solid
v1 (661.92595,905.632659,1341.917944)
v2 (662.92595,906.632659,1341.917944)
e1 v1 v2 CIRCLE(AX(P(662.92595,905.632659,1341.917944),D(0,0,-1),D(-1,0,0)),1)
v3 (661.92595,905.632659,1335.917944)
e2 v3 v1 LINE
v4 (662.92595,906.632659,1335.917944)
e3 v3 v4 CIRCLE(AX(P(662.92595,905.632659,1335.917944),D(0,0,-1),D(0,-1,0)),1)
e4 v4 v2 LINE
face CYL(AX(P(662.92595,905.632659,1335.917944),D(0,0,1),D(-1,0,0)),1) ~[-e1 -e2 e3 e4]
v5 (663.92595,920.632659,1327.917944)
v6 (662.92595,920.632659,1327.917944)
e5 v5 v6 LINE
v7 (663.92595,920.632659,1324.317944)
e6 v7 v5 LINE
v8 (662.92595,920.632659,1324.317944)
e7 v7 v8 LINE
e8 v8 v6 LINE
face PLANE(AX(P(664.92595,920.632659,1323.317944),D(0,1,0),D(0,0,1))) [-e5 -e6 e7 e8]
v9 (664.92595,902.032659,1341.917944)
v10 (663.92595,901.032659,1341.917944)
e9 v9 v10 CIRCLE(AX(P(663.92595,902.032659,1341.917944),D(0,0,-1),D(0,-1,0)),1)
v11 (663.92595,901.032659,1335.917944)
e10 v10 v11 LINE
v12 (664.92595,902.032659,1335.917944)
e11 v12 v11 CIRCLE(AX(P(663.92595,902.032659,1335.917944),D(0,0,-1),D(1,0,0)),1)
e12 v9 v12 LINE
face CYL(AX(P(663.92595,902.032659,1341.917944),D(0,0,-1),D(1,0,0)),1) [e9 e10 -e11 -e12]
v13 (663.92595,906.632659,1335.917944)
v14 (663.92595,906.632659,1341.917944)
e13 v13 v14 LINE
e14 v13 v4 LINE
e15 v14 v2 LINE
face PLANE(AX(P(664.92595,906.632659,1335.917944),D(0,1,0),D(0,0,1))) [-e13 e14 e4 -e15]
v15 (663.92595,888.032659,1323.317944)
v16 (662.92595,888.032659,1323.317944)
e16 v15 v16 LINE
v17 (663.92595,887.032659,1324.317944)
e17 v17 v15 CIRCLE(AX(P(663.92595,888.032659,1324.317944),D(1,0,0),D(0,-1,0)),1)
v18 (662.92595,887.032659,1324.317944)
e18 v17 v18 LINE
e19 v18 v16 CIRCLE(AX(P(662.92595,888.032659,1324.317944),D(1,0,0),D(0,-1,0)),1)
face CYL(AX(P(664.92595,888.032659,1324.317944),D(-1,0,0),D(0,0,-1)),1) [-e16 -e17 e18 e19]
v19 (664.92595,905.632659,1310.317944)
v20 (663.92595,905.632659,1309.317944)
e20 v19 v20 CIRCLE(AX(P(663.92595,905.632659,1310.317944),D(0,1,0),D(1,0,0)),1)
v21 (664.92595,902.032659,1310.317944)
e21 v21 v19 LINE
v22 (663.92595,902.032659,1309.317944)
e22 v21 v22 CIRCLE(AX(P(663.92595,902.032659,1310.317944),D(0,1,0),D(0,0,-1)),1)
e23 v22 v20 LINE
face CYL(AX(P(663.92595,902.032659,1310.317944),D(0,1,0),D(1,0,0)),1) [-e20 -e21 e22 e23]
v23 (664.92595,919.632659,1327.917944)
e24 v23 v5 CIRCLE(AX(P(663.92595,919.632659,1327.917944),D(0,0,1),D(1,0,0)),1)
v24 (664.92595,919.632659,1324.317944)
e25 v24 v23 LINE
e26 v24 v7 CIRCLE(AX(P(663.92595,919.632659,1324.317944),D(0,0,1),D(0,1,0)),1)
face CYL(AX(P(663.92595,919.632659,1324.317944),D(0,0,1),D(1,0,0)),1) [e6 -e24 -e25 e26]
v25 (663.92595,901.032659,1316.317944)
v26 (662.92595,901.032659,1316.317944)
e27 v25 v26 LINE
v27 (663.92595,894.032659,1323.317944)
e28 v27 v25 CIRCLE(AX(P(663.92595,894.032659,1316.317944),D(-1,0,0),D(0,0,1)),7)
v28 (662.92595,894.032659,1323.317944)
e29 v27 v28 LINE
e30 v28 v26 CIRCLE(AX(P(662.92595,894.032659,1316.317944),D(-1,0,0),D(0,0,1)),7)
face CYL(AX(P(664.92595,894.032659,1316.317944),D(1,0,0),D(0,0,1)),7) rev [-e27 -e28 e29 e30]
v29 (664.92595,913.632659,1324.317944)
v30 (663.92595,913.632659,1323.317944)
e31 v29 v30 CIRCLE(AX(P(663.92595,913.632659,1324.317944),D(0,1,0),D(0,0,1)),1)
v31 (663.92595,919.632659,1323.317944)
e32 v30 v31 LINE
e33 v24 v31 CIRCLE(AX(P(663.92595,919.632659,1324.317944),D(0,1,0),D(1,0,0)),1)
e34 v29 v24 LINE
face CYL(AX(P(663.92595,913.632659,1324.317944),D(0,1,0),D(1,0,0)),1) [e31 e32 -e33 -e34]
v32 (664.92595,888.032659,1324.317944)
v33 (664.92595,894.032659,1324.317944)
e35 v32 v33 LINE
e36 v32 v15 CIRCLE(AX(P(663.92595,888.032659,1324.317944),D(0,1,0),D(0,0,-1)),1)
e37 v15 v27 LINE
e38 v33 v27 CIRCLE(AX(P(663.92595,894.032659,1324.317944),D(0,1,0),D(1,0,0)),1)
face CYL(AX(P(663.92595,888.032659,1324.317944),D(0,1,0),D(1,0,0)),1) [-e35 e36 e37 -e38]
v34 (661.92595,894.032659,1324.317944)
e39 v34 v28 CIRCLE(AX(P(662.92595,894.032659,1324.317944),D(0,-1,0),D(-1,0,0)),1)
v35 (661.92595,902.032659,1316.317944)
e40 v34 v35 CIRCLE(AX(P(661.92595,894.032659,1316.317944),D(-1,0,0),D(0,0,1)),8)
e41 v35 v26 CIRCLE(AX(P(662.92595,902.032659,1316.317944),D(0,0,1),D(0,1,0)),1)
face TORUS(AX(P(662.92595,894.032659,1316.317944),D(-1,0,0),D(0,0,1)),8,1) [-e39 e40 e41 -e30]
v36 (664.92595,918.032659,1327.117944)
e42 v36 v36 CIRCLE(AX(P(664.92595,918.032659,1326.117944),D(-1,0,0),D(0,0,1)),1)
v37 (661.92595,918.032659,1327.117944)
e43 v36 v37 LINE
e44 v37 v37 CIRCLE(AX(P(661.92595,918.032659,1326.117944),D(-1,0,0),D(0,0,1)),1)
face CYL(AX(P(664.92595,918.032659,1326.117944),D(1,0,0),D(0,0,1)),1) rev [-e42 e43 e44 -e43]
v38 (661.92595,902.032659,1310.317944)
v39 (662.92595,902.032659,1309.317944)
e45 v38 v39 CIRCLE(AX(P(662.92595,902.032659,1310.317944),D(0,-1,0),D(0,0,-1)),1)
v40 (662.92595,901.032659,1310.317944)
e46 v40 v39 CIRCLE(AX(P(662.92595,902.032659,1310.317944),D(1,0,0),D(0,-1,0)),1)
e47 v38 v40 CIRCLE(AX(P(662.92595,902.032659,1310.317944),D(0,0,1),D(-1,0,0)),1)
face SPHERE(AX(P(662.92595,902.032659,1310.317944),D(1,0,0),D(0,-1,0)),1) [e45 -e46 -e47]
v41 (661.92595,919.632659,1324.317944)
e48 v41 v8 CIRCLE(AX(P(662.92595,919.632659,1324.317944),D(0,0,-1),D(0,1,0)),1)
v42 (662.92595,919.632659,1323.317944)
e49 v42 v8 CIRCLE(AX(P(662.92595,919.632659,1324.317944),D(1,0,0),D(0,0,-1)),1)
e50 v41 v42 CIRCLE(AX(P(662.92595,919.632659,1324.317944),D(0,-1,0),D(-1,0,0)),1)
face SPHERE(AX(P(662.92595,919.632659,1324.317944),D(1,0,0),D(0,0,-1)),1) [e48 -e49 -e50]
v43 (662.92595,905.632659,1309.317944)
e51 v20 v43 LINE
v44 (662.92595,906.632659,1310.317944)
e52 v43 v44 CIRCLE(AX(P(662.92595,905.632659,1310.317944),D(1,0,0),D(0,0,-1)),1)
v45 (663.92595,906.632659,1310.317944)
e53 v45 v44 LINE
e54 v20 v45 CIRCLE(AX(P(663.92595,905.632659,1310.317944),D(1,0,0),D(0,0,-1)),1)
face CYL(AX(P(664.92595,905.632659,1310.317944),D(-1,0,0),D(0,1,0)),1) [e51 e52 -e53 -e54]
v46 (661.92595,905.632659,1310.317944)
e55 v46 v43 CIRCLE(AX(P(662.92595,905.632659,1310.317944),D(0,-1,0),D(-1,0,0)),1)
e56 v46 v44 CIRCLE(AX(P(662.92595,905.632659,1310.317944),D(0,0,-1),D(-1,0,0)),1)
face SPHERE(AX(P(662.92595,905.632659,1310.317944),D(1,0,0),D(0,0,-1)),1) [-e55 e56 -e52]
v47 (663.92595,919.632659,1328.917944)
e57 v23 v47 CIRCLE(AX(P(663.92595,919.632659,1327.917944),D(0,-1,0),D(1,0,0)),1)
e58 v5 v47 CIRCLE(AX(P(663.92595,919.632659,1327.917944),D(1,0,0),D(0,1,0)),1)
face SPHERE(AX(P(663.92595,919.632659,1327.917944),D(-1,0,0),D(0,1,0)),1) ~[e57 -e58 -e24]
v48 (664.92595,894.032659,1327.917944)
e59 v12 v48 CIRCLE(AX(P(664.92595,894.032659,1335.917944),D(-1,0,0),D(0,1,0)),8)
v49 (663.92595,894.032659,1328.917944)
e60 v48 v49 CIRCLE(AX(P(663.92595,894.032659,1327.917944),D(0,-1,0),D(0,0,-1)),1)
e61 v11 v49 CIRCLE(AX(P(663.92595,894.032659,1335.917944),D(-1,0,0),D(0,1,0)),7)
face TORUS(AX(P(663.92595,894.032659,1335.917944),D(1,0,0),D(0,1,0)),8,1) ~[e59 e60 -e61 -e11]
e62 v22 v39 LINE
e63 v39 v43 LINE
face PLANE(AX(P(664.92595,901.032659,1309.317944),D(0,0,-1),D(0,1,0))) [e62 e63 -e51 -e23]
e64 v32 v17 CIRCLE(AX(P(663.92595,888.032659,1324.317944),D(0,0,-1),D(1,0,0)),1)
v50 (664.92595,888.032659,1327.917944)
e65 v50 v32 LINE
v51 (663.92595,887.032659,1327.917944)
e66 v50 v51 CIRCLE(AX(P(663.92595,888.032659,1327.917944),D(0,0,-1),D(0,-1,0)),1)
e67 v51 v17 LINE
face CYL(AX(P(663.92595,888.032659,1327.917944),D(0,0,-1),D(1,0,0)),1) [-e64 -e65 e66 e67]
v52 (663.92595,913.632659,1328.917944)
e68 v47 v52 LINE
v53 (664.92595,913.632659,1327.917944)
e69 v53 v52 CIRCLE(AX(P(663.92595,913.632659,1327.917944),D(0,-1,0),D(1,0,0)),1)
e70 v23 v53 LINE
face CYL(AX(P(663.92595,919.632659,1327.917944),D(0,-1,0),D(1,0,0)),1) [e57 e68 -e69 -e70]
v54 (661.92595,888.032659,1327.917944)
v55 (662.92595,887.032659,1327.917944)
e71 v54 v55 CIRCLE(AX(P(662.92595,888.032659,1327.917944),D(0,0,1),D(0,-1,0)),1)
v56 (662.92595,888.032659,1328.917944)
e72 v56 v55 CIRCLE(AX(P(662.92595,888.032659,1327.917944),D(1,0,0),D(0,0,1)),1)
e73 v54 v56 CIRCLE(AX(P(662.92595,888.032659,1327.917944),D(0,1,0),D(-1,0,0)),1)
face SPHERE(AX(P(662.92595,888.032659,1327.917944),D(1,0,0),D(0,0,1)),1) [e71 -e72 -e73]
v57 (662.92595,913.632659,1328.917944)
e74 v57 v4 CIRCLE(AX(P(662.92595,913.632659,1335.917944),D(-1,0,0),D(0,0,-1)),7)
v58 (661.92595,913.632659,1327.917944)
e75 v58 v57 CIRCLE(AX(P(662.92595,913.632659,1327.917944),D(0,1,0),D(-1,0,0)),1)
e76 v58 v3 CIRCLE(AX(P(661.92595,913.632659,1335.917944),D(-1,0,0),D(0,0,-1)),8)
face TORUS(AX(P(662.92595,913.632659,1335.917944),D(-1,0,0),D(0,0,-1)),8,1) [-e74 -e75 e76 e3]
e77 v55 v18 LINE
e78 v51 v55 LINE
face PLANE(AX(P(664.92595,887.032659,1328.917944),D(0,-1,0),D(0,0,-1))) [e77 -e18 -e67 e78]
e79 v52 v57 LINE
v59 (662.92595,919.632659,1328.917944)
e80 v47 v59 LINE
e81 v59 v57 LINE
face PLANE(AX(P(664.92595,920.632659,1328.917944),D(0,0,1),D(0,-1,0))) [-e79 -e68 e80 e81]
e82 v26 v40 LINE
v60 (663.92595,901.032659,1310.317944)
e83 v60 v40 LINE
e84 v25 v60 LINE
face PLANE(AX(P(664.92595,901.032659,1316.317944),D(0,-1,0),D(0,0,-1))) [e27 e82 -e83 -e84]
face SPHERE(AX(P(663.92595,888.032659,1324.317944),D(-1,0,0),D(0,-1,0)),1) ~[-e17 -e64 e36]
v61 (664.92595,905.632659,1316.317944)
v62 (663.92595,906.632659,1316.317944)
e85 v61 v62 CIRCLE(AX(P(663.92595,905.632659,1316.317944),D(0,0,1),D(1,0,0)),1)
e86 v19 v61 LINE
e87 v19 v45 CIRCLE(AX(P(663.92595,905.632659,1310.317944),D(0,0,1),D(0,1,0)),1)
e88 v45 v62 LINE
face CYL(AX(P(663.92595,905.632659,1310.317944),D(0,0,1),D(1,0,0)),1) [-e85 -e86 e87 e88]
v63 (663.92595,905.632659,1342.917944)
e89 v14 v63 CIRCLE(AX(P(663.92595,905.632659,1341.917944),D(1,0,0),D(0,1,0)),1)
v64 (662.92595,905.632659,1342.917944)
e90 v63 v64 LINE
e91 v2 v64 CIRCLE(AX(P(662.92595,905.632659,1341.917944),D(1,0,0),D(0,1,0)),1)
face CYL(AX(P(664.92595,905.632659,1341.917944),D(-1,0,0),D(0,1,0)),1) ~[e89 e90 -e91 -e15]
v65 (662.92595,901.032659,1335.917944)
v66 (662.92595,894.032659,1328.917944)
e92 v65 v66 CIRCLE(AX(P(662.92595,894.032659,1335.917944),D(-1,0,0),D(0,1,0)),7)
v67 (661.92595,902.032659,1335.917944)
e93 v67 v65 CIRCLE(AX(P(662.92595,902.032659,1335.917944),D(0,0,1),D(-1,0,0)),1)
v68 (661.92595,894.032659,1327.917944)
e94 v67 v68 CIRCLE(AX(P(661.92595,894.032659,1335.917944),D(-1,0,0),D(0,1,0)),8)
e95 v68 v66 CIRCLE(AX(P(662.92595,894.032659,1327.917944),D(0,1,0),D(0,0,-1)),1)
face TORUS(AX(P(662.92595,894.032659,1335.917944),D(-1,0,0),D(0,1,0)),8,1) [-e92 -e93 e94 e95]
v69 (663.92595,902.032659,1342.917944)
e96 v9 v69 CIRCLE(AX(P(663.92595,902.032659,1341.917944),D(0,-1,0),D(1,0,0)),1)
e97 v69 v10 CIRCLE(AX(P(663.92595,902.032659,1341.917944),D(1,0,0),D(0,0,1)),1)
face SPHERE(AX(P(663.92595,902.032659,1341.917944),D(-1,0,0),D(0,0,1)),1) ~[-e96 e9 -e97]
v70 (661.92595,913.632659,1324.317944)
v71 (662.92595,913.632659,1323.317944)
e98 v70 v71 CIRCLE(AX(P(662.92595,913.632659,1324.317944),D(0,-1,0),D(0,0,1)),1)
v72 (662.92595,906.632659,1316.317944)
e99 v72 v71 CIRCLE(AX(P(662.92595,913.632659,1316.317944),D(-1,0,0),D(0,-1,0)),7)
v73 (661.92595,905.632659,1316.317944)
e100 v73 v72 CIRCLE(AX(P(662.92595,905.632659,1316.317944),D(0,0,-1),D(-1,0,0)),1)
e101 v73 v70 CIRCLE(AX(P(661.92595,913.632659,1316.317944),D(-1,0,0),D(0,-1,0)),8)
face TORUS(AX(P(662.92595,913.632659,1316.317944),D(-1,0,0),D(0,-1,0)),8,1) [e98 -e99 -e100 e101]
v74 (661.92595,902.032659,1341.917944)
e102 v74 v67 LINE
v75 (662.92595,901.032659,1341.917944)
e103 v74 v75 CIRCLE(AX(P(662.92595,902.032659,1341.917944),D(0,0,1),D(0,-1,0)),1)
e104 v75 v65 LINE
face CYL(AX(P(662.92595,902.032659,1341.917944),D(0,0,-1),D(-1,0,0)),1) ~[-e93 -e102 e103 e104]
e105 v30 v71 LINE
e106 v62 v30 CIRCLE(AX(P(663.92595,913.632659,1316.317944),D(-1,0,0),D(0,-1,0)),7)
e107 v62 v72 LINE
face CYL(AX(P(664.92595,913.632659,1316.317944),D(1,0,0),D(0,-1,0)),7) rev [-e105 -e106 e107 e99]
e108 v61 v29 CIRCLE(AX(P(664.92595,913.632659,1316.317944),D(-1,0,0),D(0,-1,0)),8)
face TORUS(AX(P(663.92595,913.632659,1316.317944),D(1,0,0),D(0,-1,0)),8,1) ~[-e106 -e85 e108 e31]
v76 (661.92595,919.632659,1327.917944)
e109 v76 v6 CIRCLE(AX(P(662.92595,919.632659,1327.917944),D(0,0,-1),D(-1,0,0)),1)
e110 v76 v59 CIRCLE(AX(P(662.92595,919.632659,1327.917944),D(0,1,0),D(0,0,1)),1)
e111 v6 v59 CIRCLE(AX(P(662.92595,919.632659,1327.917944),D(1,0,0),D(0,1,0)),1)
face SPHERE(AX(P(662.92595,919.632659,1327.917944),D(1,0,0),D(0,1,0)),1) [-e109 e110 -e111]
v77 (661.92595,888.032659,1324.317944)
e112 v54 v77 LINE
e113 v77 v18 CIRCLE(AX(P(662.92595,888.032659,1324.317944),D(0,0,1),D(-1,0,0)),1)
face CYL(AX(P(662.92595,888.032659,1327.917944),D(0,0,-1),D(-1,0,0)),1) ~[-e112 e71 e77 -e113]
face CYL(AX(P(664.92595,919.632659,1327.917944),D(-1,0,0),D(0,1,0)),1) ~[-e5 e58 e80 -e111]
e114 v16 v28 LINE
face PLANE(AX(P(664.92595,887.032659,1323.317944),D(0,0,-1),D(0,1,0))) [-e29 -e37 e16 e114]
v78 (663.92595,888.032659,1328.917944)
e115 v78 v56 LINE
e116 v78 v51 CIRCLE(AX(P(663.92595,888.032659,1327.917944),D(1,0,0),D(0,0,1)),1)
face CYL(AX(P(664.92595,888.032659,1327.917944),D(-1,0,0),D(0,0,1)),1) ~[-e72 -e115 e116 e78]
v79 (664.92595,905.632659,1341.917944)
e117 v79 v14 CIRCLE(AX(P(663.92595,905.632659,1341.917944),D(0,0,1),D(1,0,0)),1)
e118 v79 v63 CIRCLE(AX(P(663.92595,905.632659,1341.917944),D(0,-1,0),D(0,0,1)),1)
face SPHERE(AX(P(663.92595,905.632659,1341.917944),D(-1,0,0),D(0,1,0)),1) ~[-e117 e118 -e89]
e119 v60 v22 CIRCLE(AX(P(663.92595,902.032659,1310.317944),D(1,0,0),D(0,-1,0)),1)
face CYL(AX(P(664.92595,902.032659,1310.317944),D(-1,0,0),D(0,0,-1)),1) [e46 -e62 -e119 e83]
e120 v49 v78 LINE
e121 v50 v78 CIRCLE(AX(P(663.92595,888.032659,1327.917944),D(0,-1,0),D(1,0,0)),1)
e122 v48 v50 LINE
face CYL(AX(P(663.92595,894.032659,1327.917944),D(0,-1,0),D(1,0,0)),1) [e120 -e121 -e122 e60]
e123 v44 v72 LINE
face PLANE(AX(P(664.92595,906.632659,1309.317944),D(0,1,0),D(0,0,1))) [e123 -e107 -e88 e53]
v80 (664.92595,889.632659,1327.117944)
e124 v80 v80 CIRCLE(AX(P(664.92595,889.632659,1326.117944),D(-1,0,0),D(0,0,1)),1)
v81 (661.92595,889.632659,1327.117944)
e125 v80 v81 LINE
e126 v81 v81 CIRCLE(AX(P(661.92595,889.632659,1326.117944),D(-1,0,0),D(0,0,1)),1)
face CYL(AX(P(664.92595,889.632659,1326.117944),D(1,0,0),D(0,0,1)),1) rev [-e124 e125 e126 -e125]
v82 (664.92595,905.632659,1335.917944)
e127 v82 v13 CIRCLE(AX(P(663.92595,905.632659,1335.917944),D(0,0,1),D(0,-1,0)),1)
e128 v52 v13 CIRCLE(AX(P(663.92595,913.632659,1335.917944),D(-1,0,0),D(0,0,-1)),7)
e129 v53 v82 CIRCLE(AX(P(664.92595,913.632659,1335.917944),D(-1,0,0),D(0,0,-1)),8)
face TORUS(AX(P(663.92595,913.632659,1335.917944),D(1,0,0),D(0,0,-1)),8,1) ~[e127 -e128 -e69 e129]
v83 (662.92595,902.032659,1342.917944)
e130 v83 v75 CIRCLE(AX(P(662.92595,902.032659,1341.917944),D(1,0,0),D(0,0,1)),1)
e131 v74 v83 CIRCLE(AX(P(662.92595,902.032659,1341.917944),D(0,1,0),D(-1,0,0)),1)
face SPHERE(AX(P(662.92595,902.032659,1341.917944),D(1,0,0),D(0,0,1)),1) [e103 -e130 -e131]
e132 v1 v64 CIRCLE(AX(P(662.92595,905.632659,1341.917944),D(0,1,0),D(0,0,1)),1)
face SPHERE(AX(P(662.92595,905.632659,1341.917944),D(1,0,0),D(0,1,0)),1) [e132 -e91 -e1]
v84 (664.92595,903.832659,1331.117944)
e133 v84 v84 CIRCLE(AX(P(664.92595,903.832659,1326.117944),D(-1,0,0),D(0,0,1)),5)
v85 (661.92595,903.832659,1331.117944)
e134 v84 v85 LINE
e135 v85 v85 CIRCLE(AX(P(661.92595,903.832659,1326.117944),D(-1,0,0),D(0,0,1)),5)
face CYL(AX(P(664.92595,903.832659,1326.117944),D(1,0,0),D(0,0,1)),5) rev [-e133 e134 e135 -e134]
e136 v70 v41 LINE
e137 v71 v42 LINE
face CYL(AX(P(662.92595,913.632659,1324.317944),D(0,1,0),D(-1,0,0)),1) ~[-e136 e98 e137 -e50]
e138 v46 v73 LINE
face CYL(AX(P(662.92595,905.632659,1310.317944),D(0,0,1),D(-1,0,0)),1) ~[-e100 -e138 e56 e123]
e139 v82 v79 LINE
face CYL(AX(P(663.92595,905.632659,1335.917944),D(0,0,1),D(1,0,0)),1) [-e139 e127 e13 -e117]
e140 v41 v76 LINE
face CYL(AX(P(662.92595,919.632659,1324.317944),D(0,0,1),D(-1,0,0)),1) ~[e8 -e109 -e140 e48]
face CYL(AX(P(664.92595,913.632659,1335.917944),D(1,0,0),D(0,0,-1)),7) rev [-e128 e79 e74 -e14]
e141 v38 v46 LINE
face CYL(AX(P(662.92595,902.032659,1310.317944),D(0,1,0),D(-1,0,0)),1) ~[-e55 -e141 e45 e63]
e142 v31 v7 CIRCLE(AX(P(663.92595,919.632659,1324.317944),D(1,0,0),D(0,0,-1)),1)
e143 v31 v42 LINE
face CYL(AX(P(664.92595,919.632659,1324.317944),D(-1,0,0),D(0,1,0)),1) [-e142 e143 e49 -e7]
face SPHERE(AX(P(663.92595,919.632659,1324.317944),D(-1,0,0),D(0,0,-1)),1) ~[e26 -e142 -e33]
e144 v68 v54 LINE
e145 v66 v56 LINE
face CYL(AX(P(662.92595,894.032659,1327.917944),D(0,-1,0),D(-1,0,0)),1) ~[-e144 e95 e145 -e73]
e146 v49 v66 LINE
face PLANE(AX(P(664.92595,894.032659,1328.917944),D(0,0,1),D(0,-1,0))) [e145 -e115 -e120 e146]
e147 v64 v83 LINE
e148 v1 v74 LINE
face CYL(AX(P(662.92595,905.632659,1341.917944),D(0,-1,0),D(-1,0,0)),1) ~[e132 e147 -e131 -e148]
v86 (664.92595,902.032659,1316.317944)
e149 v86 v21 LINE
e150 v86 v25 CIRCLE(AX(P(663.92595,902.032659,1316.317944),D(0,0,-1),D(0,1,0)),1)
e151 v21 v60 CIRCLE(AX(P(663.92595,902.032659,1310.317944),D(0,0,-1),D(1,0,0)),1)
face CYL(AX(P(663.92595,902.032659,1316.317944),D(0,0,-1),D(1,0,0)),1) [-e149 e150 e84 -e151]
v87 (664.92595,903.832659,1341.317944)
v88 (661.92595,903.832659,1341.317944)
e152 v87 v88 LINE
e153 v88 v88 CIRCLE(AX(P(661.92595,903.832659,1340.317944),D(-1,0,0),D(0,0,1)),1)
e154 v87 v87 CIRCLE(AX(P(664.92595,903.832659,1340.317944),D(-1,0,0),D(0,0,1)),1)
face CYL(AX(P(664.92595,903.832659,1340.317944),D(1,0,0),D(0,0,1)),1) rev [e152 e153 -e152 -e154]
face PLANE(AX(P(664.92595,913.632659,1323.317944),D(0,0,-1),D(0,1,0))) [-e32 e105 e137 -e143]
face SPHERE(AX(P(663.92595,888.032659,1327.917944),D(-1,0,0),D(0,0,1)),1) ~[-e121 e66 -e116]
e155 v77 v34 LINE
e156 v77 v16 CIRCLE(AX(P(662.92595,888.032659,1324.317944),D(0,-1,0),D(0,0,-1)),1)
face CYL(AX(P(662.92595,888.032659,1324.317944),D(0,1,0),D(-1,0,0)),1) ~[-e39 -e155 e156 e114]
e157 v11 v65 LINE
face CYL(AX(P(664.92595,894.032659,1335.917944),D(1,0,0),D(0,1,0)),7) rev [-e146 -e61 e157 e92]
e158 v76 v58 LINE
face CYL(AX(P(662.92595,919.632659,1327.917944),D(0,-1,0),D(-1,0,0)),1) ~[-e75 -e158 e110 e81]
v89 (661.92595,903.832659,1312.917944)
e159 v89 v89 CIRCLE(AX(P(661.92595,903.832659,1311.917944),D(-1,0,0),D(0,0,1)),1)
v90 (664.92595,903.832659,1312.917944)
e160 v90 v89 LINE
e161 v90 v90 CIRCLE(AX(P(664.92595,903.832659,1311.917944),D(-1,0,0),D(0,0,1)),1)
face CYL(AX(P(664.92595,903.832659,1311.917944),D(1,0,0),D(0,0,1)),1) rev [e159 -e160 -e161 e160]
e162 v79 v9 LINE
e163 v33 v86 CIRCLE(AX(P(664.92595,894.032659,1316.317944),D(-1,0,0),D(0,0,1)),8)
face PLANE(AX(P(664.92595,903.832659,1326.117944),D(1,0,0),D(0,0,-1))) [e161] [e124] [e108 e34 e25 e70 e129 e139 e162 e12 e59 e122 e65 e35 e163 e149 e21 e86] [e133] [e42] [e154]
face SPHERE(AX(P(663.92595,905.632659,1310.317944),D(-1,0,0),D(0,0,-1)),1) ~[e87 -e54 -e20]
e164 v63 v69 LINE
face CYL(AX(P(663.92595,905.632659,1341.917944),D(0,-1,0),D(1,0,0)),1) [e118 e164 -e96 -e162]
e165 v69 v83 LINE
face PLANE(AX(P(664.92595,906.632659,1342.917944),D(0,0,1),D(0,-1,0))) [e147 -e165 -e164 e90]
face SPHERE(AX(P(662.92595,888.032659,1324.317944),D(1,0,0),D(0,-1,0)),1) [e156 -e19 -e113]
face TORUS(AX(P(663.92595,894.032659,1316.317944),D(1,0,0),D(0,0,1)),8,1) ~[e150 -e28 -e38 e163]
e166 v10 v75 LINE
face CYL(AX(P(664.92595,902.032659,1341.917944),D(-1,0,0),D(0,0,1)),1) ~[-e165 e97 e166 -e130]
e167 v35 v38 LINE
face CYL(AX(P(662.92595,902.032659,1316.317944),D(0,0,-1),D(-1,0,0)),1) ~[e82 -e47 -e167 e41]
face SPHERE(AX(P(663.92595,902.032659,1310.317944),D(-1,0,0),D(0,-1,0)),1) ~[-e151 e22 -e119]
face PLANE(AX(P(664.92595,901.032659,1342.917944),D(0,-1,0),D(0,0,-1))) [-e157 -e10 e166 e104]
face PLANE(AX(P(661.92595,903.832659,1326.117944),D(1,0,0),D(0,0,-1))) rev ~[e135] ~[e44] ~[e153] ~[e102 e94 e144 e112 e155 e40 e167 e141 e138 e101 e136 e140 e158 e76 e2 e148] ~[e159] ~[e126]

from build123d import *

# Parameters (mm, degrees)
SKETCH1_R           = 1
SKETCH1_R_2         = 5
BOSS_EXTRUDE1_DEPTH = 3
FILLET1_R           = 1
FILLET3_R           = 1


with BuildPart() as part:
    # Sketch1 → Boss-Extrude1 (new body)
    with BuildSketch(Plane.ZY.offset(-664.925949728)):
        with BuildLine():
            Line((1323.317943891, 920.63265885), (1328.917943891, 920.63265885))
            Line((1328.917943891, 920.63265885), (1328.917943891, 913.632658853))
            ThreePointArc((1328.917943891, 913.632658853), (1330.968196422, 908.682911384), (1335.917943891, 906.632658853))
            Line((1335.917943891, 906.632658853), (1342.917943891, 906.632658853))
            Line((1342.917943891, 906.632658853), (1342.917943891, 901.03265885))
            Line((1342.917943891, 901.03265885), (1335.917943891, 901.03265885))
            ThreePointArc((1335.917943891, 901.03265885), (1330.968196422, 898.982406318), (1328.917943891, 894.03265885))
            Line((1328.917943891, 894.03265885), (1328.917943891, 887.03265885))
            Line((1328.917943891, 887.03265885), (1323.317943893, 887.03265885))
            Line((1323.317943893, 887.03265885), (1323.317943893, 894.03265885))
            ThreePointArc((1323.317943893, 894.03265885), (1321.267691361, 898.982406318), (1316.317943893, 901.03265885))
            Line((1316.317943893, 901.03265885), (1309.317943891, 901.03265885))
            Line((1309.317943891, 901.03265885), (1309.317943891, 906.632658853))
            Line((1309.317943891, 906.632658853), (1316.317943891, 906.632658853))
            ThreePointArc((1316.317943891, 906.632658853), (1321.267691359, 908.682911384), (1323.317943891, 913.632658853))
            Line((1323.317943891, 913.632658853), (1323.317943891, 920.63265885))
        make_face()
        with Locations((1326.117943891, 918.03265885)):
            Circle(SKETCH1_R, mode=Mode.SUBTRACT)
        with Locations((1311.917943891, 903.832658851)):
            Circle(SKETCH1_R, mode=Mode.SUBTRACT)
        with Locations((1340.317943891, 903.832658851)):
            Circle(SKETCH1_R, mode=Mode.SUBTRACT)
        with Locations((1326.117943892, 889.63265885)):
            Circle(SKETCH1_R, mode=Mode.SUBTRACT)
        with Locations((1326.117943891, 903.83265885)):
            Circle(SKETCH1_R_2, mode=Mode.SUBTRACT)
    extrude(amount=BOSS_EXTRUDE1_DEPTH)

    # Fillet1
    fillet1_edges = [part.edges().sort_by_distance(p)[0] for p in [
        (663.425949728, 920.63265885, 1323.317943891),
        (663.425949728, 920.63265885, 1328.917943891),
        (663.425949728, 906.632658853, 1342.917943891),
        (663.425949728, 901.03265885, 1342.917943891),
        (663.425949728, 887.03265885, 1328.917943891),
        (663.425949728, 887.03265885, 1323.317943893),
        (663.425949728, 901.03265885, 1309.317943891),
        (663.425949728, 906.632658853, 1309.317943891),
    ]]
    fillet(fillet1_edges, radius=FILLET1_R)

    # Fillet3
    fillet3_edges = [part.edges().sort_by_distance(p)[0] for p in [
        (661.925949728, 906.632658853, 1313.317943891),
        (664.925949728, 916.632658851, 1328.917943891),
        (664.925949728, 908.682911384, 1330.968196422),
        (664.925949728, 901.03265885, 1338.917943891),
        (664.925949728, 898.982406318, 1330.968196422),
        (664.925949728, 891.03265885, 1323.317943893),
        (664.925949728, 898.982406318, 1321.267691361),
        (664.925949728, 906.632658853, 1313.317943891),
        (664.925949728, 908.682911384, 1321.267691359),
        (661.925949728, 898.982406318, 1321.267691361),
        (661.925949728, 891.03265885, 1323.317943893),
        (661.925949728, 898.982406318, 1330.968196422),
        (661.925949728, 901.03265885, 1338.917943891),
        (661.925949728, 908.682911384, 1330.968196422),
        (661.925949728, 916.632658851, 1328.917943891),
        (664.925949728, 906.632658853, 1338.917943891),
        (661.925949728, 906.632658853, 1338.917943891),
        (664.925949728, 916.632658851, 1323.317943891),
        (664.925949728, 920.63265885, 1326.117943891),
        (664.925949728, 903.832658851, 1342.917943891),
        (664.925949728, 891.03265885, 1328.917943891),
        (664.925949728, 887.03265885, 1326.117943892),
        (664.925949728, 901.03265885, 1313.317943892),
        (664.925949728, 903.832658851, 1309.317943891),
        (664.925949728, 920.339765631, 1328.625050672),
        (664.925949728, 906.339765634, 1309.610837109),
        (664.925949728, 920.339765631, 1323.610837109),
        (664.925949728, 901.325552068, 1309.610837109),
        (664.925949728, 887.325552069, 1323.610837112),
        (664.925949728, 887.325552069, 1328.625050672),
        (664.925949728, 901.325552068, 1342.625050672),
        (664.925949728, 906.339765634, 1342.625050672),
        (661.925949728, 903.832658851, 1342.917943891),
        (661.925949728, 916.632658851, 1323.317943891),
        (661.925949728, 903.832658851, 1309.317943891),
        (661.925949728, 901.03265885, 1313.317943892),
        (661.925949728, 887.03265885, 1326.117943892),
        (661.925949728, 891.03265885, 1328.917943891),
        (661.925949728, 920.63265885, 1326.117943891),
        (661.925949728, 920.339765631, 1328.625050672),
        (661.925949728, 906.339765634, 1309.610837109),
        (661.925949728, 920.339765631, 1323.610837109),
        (661.925949728, 901.325552068, 1309.610837109),
        (661.925949728, 887.325552069, 1323.610837112),
        (661.925949728, 887.325552069, 1328.625050672),
        (661.925949728, 901.325552068, 1342.625050672),
        (661.925949728, 906.339765634, 1342.625050672),
        (661.925949728, 908.682911384, 1321.267691359),
    ]]
    fillet(fillet3_edges, radius=FILLET3_R)


solid = part.part
